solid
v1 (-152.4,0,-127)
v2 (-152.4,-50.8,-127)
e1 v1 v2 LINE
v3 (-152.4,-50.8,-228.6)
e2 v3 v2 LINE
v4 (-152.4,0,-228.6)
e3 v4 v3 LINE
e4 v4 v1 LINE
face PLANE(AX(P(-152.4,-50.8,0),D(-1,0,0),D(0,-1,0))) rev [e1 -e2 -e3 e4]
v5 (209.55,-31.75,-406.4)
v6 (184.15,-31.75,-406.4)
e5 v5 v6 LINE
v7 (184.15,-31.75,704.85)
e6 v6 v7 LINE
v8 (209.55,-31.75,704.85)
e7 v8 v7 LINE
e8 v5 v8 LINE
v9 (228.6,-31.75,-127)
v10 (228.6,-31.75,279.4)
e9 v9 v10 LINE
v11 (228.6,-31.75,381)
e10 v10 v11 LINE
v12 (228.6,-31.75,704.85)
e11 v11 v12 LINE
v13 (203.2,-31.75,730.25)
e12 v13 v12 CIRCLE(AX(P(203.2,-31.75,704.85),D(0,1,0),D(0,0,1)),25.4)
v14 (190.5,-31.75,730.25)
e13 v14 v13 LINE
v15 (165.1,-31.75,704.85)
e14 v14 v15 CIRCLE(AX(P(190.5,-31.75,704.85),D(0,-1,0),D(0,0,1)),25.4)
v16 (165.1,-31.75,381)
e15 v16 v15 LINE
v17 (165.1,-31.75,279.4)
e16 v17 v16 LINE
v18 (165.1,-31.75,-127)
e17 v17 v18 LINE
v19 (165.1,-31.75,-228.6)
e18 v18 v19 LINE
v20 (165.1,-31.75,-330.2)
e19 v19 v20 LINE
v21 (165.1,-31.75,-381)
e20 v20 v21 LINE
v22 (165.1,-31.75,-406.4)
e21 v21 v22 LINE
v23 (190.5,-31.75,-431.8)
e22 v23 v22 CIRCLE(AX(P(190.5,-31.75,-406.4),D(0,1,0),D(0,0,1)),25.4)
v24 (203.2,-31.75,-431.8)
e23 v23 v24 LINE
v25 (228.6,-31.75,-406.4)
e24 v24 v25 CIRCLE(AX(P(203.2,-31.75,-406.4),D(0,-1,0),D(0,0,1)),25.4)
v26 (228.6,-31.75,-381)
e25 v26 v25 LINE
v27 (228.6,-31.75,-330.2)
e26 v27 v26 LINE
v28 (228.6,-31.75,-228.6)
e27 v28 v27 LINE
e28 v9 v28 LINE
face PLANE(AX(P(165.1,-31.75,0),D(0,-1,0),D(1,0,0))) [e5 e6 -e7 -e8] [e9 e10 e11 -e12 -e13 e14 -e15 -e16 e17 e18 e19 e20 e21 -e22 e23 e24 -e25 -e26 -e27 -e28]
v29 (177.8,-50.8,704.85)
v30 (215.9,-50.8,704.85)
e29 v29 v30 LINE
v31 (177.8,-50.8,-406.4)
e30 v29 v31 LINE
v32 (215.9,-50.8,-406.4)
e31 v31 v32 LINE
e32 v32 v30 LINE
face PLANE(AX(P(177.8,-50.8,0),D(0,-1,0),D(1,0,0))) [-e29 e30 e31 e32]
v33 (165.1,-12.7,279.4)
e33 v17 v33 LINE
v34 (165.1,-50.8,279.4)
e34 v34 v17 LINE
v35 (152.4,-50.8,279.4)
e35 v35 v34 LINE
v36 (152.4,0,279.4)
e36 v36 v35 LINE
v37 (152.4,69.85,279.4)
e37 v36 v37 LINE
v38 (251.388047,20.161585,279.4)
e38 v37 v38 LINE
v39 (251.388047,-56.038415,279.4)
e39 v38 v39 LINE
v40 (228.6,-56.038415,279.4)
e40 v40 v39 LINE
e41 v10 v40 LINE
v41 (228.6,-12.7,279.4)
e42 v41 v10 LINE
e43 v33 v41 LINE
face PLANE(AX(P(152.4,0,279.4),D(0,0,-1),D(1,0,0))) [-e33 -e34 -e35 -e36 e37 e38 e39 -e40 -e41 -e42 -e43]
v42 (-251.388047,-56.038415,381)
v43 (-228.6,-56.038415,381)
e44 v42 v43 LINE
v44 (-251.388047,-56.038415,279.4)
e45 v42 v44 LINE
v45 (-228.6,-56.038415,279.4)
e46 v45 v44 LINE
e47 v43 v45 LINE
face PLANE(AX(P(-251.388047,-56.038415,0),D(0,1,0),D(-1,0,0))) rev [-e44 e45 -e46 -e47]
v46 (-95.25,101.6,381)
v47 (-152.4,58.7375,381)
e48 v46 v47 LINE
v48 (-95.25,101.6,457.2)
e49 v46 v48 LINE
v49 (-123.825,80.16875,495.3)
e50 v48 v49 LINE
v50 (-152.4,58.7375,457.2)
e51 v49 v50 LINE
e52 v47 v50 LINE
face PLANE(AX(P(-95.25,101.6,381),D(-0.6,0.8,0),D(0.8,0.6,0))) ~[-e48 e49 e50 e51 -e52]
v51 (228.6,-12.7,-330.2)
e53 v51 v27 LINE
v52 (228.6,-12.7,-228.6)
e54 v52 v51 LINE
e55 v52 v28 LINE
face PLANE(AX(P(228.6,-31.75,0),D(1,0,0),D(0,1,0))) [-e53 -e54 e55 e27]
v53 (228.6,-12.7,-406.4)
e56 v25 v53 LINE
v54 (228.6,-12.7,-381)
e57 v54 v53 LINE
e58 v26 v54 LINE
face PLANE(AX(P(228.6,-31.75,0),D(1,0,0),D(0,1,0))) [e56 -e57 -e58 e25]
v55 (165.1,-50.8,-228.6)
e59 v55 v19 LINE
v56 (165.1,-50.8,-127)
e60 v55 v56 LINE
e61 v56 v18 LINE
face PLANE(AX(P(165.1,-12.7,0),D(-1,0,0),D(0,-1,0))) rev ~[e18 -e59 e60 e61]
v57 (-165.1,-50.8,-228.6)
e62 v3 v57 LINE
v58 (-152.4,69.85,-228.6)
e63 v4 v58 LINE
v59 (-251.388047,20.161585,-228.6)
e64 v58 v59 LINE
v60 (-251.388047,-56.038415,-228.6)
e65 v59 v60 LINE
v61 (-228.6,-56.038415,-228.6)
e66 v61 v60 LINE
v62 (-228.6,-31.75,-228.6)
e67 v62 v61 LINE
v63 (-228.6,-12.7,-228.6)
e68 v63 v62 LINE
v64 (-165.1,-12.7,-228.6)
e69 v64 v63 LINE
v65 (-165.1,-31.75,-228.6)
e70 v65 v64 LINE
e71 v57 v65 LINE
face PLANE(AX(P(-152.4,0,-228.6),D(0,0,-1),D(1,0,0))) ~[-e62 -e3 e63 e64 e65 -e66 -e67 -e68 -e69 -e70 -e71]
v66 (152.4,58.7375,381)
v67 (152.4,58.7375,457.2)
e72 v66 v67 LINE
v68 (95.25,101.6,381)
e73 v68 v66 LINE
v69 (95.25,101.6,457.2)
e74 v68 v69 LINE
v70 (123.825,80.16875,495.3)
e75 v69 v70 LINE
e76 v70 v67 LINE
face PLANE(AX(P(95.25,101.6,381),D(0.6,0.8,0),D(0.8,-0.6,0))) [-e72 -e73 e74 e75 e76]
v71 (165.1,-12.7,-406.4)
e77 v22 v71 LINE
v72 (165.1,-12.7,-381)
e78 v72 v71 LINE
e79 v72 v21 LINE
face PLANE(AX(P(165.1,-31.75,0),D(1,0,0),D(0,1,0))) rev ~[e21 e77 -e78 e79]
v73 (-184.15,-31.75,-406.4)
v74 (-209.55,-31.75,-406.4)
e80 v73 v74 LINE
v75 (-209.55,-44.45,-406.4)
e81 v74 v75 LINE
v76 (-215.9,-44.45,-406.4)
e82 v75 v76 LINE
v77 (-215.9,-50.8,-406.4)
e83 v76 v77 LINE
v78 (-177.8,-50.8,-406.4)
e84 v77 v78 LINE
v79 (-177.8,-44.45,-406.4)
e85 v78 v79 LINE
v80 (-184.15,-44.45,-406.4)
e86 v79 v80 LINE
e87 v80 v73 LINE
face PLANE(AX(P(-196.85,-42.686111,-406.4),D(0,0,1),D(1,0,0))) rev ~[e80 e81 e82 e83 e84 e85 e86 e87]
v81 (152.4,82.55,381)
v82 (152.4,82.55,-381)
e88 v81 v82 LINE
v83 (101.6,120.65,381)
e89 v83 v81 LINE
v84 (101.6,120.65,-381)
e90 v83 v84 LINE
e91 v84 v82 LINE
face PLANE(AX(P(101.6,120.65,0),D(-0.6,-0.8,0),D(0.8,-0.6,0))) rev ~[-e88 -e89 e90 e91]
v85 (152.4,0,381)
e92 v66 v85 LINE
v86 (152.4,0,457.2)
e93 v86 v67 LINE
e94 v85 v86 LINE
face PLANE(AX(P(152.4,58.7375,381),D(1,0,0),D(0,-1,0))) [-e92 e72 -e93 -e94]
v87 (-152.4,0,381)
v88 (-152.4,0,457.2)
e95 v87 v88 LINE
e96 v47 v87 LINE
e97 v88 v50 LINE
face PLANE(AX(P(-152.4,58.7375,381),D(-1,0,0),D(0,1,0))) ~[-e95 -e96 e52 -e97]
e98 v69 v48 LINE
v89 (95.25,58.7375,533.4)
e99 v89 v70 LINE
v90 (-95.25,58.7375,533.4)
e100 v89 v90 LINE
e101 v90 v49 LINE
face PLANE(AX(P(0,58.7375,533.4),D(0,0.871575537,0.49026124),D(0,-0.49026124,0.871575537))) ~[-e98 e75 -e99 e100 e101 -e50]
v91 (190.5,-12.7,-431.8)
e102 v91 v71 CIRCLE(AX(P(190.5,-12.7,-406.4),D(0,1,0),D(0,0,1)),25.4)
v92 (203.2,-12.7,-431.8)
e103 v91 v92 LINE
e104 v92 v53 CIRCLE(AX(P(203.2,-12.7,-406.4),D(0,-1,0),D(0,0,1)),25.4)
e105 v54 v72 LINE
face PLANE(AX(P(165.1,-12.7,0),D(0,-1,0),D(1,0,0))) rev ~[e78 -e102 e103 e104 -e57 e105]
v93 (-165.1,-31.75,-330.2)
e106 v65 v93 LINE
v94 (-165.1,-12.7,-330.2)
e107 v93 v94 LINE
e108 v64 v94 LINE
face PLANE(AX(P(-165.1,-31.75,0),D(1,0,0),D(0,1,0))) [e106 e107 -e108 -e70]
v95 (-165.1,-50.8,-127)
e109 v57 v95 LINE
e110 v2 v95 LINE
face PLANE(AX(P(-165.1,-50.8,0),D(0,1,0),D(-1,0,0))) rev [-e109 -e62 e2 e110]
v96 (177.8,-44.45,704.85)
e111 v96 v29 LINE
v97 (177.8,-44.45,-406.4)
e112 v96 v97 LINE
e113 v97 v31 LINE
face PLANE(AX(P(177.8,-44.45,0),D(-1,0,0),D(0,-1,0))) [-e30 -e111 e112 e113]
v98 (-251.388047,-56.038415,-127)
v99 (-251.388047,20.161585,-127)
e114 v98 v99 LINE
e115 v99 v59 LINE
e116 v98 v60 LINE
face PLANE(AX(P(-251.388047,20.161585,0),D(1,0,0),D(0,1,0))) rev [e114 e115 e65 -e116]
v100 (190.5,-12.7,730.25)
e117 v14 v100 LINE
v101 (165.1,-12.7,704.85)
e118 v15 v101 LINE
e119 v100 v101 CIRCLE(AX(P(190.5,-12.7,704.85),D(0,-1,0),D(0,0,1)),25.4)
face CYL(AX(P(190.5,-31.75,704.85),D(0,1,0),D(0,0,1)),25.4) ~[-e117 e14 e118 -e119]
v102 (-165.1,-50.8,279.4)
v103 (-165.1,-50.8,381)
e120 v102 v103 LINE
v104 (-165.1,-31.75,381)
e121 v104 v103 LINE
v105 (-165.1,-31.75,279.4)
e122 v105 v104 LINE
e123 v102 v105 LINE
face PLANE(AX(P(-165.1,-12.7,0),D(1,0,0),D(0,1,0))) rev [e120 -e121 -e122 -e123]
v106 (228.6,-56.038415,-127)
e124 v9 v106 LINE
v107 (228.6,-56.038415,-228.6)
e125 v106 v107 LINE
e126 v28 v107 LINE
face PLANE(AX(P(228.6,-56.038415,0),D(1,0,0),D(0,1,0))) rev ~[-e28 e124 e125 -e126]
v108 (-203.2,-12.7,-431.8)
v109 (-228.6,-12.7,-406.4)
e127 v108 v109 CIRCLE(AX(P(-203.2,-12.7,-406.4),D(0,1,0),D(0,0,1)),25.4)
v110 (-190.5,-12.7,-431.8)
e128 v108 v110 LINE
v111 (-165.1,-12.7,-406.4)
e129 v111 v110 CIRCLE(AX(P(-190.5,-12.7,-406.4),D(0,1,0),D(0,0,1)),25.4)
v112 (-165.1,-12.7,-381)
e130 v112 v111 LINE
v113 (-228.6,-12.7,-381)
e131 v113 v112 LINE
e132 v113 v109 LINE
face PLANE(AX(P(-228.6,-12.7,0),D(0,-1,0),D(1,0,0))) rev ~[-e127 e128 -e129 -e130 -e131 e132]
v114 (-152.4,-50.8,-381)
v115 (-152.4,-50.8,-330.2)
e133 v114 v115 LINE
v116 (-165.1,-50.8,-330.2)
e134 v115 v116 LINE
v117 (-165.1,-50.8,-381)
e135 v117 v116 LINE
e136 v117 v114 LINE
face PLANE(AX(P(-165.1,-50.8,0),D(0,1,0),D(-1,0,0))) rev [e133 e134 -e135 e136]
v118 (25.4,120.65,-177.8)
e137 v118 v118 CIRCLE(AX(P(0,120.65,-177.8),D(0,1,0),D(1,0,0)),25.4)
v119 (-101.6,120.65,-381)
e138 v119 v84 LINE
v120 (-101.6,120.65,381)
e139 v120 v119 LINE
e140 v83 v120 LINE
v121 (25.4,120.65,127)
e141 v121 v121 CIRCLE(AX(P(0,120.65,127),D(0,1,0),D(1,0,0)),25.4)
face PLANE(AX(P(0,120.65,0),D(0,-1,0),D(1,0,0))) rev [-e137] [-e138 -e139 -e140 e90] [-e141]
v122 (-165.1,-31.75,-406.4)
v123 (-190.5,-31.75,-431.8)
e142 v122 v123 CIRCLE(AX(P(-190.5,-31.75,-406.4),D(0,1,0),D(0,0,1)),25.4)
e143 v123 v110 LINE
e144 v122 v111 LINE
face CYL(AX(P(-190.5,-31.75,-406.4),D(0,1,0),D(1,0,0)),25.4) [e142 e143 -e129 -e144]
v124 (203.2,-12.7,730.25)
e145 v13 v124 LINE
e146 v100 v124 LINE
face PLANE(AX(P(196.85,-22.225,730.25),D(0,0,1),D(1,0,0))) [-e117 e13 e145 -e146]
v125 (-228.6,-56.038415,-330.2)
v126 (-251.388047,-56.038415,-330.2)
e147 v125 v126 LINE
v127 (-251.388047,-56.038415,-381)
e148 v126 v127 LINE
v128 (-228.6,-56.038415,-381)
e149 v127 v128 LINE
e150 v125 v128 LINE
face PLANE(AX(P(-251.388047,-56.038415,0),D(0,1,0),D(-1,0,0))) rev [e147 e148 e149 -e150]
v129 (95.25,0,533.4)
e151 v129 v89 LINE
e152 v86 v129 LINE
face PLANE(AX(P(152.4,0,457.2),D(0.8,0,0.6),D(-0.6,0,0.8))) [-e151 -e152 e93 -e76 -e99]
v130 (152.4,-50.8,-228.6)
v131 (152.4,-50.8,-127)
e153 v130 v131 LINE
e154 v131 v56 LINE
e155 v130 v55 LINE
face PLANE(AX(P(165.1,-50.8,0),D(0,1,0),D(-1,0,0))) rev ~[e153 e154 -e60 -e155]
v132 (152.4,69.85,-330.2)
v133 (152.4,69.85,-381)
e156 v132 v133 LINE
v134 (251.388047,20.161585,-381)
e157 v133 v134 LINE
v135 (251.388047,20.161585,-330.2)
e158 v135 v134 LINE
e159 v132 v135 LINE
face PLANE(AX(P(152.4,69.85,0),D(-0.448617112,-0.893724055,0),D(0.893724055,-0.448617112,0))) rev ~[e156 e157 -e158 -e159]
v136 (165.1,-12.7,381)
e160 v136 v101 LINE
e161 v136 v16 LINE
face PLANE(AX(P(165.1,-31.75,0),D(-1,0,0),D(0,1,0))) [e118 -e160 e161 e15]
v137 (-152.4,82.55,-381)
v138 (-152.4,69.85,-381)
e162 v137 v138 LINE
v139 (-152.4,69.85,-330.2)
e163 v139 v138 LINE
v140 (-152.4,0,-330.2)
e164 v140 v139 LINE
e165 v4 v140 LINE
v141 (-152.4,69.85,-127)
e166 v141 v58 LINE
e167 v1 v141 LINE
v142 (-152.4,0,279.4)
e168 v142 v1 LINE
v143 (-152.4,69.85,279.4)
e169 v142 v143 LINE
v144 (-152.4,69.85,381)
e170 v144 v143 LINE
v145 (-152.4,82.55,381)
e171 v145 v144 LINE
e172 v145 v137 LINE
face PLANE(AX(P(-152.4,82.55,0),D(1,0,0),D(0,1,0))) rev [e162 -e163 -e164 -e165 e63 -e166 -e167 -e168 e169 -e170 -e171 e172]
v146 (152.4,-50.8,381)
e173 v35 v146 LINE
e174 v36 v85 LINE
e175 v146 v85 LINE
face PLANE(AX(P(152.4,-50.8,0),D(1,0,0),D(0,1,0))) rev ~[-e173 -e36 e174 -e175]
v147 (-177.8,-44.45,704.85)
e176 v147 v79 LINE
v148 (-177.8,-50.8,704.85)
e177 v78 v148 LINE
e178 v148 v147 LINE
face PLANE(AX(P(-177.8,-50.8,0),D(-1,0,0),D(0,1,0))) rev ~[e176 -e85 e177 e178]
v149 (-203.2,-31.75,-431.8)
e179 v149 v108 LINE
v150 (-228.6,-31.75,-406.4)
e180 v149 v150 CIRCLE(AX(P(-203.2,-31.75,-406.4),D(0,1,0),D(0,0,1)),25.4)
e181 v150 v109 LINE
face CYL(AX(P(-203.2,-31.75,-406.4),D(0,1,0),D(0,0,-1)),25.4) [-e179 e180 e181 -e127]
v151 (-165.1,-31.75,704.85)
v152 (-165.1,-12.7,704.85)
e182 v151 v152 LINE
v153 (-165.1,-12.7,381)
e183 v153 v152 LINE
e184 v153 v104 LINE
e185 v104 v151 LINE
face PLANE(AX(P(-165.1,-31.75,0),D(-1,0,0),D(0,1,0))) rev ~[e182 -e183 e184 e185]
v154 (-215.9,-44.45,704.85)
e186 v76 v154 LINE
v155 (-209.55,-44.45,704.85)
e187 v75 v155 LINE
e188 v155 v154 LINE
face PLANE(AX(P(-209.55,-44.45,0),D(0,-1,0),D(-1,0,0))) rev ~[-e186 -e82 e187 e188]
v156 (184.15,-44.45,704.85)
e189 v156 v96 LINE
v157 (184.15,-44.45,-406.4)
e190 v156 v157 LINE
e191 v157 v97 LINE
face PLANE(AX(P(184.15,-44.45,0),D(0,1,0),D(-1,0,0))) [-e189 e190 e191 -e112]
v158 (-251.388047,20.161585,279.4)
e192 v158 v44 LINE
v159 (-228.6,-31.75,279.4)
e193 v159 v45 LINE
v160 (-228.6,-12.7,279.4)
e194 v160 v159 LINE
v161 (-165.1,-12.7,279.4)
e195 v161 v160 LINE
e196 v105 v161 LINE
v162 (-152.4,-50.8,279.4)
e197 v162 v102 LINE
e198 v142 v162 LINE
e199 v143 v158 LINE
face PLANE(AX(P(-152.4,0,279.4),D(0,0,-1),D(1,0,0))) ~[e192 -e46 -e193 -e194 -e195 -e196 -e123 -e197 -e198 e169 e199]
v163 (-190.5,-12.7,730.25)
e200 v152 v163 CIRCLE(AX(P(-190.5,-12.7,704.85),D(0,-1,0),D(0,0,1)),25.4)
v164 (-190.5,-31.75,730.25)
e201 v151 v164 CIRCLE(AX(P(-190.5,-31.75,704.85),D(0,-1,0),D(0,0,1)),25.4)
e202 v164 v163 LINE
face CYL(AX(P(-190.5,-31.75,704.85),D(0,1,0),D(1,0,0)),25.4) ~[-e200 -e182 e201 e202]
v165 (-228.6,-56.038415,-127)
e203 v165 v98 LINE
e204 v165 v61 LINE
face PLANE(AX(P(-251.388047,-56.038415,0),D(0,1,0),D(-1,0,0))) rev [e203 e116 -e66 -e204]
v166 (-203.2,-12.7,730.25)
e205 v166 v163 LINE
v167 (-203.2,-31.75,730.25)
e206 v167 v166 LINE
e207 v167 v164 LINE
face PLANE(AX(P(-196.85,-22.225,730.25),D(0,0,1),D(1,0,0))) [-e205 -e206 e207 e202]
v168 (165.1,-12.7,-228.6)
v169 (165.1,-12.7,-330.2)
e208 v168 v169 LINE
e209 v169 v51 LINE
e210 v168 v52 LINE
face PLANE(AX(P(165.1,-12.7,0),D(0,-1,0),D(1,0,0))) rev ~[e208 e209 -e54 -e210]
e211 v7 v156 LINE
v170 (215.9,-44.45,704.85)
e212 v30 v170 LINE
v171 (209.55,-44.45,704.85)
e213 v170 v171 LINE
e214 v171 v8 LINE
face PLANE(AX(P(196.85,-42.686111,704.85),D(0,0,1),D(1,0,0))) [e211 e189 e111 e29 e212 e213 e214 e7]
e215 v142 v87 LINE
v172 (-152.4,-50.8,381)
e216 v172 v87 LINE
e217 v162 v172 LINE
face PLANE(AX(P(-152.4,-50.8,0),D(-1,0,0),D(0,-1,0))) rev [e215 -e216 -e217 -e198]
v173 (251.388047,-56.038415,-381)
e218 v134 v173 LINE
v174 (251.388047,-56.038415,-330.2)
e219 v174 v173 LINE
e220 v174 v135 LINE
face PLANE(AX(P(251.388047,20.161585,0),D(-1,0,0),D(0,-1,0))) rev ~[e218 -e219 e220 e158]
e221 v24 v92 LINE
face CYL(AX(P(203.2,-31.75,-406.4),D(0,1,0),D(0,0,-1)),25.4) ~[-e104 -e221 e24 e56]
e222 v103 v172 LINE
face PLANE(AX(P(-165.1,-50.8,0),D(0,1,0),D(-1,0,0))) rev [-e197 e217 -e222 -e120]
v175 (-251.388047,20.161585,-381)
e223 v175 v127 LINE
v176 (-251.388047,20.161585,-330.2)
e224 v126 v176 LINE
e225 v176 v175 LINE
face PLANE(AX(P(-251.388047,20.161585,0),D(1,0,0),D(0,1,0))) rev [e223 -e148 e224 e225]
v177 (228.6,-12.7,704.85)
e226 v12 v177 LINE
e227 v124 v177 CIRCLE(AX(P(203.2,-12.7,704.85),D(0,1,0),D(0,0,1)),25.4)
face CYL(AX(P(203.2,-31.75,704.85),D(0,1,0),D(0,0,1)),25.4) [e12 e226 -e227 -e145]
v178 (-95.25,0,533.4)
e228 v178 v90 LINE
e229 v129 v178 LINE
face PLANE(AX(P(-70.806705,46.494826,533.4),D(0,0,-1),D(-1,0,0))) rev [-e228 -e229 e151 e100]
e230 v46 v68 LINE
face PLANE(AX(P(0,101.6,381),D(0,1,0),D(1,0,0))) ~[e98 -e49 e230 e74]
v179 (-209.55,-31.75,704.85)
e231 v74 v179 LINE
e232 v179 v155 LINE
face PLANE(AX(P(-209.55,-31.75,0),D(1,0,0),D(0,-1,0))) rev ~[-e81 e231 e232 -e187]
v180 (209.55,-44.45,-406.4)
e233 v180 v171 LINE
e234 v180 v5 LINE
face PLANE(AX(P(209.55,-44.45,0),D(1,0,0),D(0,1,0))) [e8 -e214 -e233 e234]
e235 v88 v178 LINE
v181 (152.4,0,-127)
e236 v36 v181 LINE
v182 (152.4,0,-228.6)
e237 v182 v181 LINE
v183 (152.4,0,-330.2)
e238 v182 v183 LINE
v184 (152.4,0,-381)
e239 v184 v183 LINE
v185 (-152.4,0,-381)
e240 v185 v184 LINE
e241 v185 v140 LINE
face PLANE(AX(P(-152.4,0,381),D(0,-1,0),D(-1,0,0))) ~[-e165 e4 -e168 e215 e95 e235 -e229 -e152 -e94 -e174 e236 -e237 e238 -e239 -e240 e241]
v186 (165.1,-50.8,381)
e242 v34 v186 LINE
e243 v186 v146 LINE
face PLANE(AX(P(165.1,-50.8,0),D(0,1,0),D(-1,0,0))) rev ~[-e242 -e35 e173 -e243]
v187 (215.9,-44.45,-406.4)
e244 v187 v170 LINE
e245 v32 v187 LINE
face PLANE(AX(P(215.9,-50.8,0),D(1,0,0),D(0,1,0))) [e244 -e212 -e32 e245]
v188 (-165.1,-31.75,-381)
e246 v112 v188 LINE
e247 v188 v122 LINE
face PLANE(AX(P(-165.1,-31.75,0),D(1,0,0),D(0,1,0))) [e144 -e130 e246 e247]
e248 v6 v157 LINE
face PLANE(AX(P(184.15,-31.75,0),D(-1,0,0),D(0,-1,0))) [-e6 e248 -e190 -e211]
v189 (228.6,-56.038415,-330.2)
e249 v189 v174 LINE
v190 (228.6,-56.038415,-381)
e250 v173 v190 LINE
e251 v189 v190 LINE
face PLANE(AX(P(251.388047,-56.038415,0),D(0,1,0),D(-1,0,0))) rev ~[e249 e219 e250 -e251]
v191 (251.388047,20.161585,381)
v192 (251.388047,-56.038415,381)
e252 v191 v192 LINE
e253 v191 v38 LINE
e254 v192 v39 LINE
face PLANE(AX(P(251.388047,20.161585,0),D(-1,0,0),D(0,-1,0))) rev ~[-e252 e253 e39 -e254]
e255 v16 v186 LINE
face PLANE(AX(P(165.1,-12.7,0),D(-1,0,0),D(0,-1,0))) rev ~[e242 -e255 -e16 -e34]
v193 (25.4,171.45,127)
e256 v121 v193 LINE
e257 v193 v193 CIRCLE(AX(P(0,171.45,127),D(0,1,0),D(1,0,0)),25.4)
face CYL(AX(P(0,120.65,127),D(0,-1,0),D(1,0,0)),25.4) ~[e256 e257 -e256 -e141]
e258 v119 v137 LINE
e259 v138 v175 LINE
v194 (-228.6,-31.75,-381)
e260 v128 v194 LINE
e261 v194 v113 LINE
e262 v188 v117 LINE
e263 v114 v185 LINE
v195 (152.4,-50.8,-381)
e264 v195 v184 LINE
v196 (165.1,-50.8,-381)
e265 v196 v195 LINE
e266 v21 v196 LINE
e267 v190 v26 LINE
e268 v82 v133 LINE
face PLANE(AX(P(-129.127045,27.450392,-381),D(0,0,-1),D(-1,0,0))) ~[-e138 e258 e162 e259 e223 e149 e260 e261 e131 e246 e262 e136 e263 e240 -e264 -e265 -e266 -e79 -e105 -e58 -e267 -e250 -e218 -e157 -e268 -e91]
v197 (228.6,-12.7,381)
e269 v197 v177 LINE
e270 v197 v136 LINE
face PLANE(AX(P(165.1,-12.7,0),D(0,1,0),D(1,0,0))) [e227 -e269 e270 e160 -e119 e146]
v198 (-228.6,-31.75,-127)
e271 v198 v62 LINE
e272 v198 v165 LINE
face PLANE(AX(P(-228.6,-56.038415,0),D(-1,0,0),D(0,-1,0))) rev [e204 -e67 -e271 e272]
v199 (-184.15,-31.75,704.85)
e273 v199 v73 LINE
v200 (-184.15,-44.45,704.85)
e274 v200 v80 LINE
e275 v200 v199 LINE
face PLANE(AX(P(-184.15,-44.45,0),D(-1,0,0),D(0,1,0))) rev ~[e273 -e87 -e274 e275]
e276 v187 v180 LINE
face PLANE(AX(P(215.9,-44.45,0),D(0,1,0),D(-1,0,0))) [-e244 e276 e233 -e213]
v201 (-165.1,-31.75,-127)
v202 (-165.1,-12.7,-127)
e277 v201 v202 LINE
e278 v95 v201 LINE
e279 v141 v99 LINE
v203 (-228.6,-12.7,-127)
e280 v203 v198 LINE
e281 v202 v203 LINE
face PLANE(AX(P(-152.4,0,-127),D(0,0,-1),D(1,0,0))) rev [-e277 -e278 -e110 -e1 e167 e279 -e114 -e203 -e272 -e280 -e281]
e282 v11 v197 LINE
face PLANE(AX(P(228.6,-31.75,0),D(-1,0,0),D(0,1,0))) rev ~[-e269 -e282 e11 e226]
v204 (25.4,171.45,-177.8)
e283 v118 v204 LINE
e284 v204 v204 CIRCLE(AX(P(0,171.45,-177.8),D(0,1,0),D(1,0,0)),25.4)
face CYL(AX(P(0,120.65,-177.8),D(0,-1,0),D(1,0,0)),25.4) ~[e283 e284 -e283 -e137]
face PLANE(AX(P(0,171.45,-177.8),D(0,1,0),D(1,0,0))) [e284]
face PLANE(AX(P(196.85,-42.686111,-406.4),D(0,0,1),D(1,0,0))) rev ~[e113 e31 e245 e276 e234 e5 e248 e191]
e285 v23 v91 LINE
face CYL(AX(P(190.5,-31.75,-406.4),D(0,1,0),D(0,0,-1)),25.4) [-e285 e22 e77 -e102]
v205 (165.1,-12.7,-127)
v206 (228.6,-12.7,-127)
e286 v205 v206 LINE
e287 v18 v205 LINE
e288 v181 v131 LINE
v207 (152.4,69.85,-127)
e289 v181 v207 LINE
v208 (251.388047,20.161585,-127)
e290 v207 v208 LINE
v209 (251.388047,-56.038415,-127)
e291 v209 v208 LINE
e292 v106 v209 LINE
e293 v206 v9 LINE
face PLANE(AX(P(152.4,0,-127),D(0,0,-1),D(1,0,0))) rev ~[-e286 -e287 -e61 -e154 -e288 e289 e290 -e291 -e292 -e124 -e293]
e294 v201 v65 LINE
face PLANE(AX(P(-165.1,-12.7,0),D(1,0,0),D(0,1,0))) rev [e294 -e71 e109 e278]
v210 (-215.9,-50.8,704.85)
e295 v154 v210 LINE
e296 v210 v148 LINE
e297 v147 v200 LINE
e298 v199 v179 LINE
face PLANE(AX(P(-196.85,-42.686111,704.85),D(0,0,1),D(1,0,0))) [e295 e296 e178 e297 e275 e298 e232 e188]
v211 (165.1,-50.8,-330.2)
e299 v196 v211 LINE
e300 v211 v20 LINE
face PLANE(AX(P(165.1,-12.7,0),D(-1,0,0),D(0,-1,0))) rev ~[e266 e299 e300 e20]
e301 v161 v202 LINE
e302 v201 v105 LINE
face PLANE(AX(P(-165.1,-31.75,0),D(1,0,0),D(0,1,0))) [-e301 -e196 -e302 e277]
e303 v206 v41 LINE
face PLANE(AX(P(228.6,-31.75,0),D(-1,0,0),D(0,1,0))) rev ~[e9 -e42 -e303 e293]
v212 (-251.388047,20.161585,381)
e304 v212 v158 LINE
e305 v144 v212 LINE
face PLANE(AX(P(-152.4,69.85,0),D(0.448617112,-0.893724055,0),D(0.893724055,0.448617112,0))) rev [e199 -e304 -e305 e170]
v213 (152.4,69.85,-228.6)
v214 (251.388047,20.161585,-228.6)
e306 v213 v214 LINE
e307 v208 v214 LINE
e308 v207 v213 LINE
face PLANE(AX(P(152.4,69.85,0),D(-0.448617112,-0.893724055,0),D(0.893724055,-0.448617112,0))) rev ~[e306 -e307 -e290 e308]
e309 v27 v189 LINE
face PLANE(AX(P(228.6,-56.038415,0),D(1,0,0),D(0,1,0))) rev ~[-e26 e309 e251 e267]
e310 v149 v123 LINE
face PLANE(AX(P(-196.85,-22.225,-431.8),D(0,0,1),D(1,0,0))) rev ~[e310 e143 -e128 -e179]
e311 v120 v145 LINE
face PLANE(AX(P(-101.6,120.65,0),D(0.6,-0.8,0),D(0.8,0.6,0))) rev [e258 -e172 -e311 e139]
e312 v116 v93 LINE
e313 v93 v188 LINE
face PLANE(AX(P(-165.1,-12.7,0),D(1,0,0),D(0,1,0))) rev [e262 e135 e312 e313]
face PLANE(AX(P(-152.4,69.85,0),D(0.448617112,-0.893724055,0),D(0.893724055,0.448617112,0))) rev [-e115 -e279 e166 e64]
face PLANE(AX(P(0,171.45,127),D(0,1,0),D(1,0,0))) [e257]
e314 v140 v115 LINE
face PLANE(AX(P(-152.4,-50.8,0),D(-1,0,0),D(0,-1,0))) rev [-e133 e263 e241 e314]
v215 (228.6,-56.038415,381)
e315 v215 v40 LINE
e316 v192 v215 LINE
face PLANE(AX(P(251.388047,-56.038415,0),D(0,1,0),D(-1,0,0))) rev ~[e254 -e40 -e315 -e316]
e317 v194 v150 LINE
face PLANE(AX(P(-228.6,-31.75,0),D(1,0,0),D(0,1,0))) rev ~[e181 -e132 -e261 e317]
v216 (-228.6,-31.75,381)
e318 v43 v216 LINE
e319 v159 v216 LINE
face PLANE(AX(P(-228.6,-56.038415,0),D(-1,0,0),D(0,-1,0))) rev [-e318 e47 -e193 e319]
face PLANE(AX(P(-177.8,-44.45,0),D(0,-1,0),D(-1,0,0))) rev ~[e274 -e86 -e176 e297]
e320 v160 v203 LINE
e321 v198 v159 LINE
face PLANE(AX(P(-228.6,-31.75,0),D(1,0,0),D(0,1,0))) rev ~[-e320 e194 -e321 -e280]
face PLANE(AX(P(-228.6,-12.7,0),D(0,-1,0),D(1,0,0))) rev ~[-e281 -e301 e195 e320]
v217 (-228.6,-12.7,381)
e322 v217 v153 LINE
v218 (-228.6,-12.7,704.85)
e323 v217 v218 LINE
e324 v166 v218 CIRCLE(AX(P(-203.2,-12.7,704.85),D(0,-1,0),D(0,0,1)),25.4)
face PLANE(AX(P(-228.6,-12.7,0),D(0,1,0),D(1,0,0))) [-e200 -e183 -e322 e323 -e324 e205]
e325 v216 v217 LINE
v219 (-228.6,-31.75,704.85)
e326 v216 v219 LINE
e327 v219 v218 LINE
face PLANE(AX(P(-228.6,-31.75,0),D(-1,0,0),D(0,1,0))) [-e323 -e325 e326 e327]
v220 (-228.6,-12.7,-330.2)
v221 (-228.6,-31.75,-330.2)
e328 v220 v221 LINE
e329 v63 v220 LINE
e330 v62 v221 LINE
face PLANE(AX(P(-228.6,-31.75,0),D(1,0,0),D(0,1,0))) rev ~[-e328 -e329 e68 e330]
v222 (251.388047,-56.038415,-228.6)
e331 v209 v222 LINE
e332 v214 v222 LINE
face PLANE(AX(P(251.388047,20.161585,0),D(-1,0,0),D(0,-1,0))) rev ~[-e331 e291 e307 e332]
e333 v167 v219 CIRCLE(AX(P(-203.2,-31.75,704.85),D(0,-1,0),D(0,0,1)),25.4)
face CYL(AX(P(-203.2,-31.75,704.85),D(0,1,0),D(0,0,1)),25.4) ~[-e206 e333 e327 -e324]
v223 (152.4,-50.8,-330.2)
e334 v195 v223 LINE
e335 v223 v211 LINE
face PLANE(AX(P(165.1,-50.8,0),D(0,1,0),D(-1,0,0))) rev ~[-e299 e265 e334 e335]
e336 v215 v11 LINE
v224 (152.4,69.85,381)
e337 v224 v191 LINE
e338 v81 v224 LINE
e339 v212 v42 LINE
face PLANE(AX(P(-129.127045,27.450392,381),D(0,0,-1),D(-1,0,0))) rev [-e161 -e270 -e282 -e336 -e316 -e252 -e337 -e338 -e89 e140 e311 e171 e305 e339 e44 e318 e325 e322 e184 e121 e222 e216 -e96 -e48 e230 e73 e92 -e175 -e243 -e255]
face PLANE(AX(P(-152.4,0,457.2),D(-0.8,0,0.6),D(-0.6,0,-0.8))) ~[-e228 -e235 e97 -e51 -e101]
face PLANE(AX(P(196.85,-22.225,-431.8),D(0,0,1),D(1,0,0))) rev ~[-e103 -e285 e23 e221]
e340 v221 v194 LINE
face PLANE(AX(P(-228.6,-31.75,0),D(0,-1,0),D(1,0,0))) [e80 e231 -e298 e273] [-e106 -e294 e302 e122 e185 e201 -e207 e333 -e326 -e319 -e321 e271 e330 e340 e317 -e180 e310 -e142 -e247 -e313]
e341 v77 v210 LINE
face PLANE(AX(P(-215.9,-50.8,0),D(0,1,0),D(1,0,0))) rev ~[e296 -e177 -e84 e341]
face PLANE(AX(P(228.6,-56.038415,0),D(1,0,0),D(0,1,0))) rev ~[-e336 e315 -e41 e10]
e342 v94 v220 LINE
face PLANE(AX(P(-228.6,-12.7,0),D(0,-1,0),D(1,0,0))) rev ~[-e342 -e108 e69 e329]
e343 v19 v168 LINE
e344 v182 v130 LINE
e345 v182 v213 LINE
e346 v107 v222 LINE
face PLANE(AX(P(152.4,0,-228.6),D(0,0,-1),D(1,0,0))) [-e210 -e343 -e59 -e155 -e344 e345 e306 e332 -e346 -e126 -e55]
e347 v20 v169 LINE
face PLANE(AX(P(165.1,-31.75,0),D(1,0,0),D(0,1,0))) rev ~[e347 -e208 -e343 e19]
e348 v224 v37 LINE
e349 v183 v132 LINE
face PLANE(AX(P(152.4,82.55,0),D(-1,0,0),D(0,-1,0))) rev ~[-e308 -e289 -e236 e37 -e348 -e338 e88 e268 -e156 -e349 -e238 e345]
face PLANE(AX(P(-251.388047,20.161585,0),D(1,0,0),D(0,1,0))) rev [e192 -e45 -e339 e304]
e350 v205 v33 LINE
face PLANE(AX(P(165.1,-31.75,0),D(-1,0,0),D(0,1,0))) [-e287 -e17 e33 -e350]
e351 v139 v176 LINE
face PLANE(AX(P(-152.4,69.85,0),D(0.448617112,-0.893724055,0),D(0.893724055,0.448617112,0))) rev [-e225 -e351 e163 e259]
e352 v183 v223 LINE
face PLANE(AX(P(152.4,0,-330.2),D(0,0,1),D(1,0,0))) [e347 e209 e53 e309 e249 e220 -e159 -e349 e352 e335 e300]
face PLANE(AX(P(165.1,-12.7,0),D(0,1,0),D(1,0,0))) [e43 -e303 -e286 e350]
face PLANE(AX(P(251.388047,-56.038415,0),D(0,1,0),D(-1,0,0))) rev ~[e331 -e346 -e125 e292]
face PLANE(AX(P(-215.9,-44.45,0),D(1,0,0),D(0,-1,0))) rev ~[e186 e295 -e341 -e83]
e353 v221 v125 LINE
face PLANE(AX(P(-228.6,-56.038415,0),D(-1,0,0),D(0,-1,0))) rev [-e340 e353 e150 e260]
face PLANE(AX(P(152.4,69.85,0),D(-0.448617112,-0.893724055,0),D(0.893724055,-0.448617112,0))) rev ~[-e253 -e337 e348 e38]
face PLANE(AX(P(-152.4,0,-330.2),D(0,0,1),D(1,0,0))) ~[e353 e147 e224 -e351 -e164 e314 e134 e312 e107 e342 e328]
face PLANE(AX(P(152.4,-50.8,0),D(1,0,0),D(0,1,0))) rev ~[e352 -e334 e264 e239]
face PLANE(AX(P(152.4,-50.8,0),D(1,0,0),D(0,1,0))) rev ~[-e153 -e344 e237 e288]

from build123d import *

# Parameters (mm, degrees)
BOSS_EXTRUDE1_DEPTH      = 381
SKETCH3_W                = 98.988046958
SKETCH3_H                = 406.4
SKETCH3_H_2              = 101.6
CUT_EXTRUDE1_DEPTH       = 121.65
CUT_EXTRUDE1_DEPTH_BACK  = 57.038415052
BOSS_EXTRUDE2_DEPTH      = 152.4
CUT_EXTRUDE2_DEPTH       = 252.388046958
CUT_EXTRUDE2_DEPTH_BACK  = 1
CUT_EXTRUDE3_DEPTH       = 121.65
CUT_EXTRUDE3_DEPTH_BACK  = 57.038415052
SKETCH8_W                = 63.5
SKETCH8_H                = 19.05
BOSS_EXTRUDE3_DEPTH      = 730.25
BOSS_EXTRUDE3_DEPTH_BACK = 431.8
FILLET1_R                = 25.4
BOSS_EXTRUDE4_DEPTH      = 704.85
BOSS_EXTRUDE4_DEPTH_BACK = 406.4
SKETCH10_R               = 25.4
BOSS_EXTRUDE5_DEPTH      = 50.8


with BuildPart() as part:
    # Sketch2 → Boss-Extrude1 (new body, symmetric)
    with BuildSketch(Plane.XY):
        Polygon((152.4, 0), (0, 0), (0, 120.65), (101.6, 120.65), (152.4, 82.55), (152.4, 69.85), (251.388046958, 20.161584948), (251.388046958, -56.038415052), (228.6, -56.038415052), (228.6, -12.7), (165.1, -12.7), (165.1, -50.8), (152.4, -50.8), align=None)
    extrude(amount=BOSS_EXTRUDE1_DEPTH, both=True)

    # Sketch3 → Cut-Extrude1 (cut, two sides)
    with BuildSketch(Plane(origin=(0, 0, 0), x_dir=(1, 0, 0), z_dir=(0, 1, 0))) as cut_extrude1_sk:
        with Locations((201.894023479, -76.2)):
            Rectangle(SKETCH3_W, SKETCH3_H)
        with Locations((201.894023479, 279.4)):
            Rectangle(SKETCH3_W, SKETCH3_H_2)
    extrude(amount=CUT_EXTRUDE1_DEPTH, mode=Mode.SUBTRACT)
    extrude(cut_extrude1_sk.sketch, amount=-CUT_EXTRUDE1_DEPTH_BACK, mode=Mode.SUBTRACT)

    # Sketch4 → Boss-Extrude2 (add)
    with BuildSketch(Plane.XY.offset(381)):
        Polygon((152.4, 0), (0, 0), (0, 101.6), (95.25, 101.6), (152.4, 58.7375), align=None)
    extrude(amount=BOSS_EXTRUDE2_DEPTH)

    # Sketch6 → Cut-Extrude2 (cut, two sides)
    with BuildSketch(Plane(origin=(0, 0, 0), x_dir=(0, 0, -1), z_dir=(1, 0, 0))) as cut_extrude2_sk:
        Polygon((-533.4, 101.6), (-533.4, 58.7375), (-457.2, 101.6), align=None)
    extrude(amount=CUT_EXTRUDE2_DEPTH, mode=Mode.SUBTRACT)
    extrude(cut_extrude2_sk.sketch, amount=-CUT_EXTRUDE2_DEPTH_BACK, mode=Mode.SUBTRACT)

    # Sketch7 → Cut-Extrude3 (cut, two sides)
    with BuildSketch(Plane(origin=(0, 0, 0), x_dir=(1, 0, 0), z_dir=(0, 1, 0))) as cut_extrude3_sk:
        Polygon((152.4, -533.4), (152.4, -457.2), (95.25, -533.4), align=None)
    extrude(amount=CUT_EXTRUDE3_DEPTH, mode=Mode.SUBTRACT)
    extrude(cut_extrude3_sk.sketch, amount=-CUT_EXTRUDE3_DEPTH_BACK, mode=Mode.SUBTRACT)

    # Mirror1: part across plane


with BuildPart() as part_1:
    add(part.part)
    add(part.part.mirror(Plane(origin=(0, 0, 0), x_dir=(0, 0, 1), z_dir=(1, 0, 0))))

    # Sketch8 → Boss-Extrude3 (add, two sides)
    with BuildSketch(Plane.XY) as boss_extrude3_sk:
        with Locations((-196.85, -22.225)):
            Rectangle(SKETCH8_W, SKETCH8_H)
        with Locations((196.85, -22.225)):
            Rectangle(SKETCH8_W, SKETCH8_H)
    extrude(amount=BOSS_EXTRUDE3_DEPTH)
    extrude(boss_extrude3_sk.sketch, amount=-BOSS_EXTRUDE3_DEPTH_BACK)

    # Fillet1
    fillet1_edges = [part_1.edges().sort_by_distance(p)[0] for p in [
        (-165.1, -22.225, 730.25),
        (-228.6, -22.225, 730.25),
        (-228.6, -22.225, -431.8),
        (-165.1, -22.225, -431.8),
        (228.6, -22.225, 730.25),
        (165.1, -22.225, 730.25),
        (165.1, -22.225, -431.8),
        (228.6, -22.225, -431.8),
    ]]
    fillet(fillet1_edges, radius=FILLET1_R)

    # Sketch9 → Boss-Extrude4 (add, two sides)
    with BuildSketch(Plane.XY) as boss_extrude4_sk:
        Polygon((177.8, -50.8), (215.9, -50.8), (215.9, -44.45), (209.55, -44.45), (209.55, -31.75), (184.15, -31.75), (184.15, -44.45), (177.8, -44.45), align=None)
        Polygon((-184.15, -44.45), (-184.15, -31.75), (-209.55, -31.75), (-209.55, -44.45), (-215.9, -44.45), (-215.9, -50.8), (-177.8, -50.8), (-177.8, -44.45), align=None)
    extrude(amount=BOSS_EXTRUDE4_DEPTH)
    extrude(boss_extrude4_sk.sketch, amount=-BOSS_EXTRUDE4_DEPTH_BACK)

    # Sketch10 → Boss-Extrude5 (add)
    with BuildSketch(Plane(origin=(0, 120.65, 0), x_dir=(1, 0, 0), z_dir=(0, 1, 0))):
        with Locations((0, 177.8)):
            Circle(SKETCH10_R)
        with Locations((0, -127)):
            Circle(SKETCH10_R)
    extrude(amount=BOSS_EXTRUDE5_DEPTH)


solid = part_1.part
